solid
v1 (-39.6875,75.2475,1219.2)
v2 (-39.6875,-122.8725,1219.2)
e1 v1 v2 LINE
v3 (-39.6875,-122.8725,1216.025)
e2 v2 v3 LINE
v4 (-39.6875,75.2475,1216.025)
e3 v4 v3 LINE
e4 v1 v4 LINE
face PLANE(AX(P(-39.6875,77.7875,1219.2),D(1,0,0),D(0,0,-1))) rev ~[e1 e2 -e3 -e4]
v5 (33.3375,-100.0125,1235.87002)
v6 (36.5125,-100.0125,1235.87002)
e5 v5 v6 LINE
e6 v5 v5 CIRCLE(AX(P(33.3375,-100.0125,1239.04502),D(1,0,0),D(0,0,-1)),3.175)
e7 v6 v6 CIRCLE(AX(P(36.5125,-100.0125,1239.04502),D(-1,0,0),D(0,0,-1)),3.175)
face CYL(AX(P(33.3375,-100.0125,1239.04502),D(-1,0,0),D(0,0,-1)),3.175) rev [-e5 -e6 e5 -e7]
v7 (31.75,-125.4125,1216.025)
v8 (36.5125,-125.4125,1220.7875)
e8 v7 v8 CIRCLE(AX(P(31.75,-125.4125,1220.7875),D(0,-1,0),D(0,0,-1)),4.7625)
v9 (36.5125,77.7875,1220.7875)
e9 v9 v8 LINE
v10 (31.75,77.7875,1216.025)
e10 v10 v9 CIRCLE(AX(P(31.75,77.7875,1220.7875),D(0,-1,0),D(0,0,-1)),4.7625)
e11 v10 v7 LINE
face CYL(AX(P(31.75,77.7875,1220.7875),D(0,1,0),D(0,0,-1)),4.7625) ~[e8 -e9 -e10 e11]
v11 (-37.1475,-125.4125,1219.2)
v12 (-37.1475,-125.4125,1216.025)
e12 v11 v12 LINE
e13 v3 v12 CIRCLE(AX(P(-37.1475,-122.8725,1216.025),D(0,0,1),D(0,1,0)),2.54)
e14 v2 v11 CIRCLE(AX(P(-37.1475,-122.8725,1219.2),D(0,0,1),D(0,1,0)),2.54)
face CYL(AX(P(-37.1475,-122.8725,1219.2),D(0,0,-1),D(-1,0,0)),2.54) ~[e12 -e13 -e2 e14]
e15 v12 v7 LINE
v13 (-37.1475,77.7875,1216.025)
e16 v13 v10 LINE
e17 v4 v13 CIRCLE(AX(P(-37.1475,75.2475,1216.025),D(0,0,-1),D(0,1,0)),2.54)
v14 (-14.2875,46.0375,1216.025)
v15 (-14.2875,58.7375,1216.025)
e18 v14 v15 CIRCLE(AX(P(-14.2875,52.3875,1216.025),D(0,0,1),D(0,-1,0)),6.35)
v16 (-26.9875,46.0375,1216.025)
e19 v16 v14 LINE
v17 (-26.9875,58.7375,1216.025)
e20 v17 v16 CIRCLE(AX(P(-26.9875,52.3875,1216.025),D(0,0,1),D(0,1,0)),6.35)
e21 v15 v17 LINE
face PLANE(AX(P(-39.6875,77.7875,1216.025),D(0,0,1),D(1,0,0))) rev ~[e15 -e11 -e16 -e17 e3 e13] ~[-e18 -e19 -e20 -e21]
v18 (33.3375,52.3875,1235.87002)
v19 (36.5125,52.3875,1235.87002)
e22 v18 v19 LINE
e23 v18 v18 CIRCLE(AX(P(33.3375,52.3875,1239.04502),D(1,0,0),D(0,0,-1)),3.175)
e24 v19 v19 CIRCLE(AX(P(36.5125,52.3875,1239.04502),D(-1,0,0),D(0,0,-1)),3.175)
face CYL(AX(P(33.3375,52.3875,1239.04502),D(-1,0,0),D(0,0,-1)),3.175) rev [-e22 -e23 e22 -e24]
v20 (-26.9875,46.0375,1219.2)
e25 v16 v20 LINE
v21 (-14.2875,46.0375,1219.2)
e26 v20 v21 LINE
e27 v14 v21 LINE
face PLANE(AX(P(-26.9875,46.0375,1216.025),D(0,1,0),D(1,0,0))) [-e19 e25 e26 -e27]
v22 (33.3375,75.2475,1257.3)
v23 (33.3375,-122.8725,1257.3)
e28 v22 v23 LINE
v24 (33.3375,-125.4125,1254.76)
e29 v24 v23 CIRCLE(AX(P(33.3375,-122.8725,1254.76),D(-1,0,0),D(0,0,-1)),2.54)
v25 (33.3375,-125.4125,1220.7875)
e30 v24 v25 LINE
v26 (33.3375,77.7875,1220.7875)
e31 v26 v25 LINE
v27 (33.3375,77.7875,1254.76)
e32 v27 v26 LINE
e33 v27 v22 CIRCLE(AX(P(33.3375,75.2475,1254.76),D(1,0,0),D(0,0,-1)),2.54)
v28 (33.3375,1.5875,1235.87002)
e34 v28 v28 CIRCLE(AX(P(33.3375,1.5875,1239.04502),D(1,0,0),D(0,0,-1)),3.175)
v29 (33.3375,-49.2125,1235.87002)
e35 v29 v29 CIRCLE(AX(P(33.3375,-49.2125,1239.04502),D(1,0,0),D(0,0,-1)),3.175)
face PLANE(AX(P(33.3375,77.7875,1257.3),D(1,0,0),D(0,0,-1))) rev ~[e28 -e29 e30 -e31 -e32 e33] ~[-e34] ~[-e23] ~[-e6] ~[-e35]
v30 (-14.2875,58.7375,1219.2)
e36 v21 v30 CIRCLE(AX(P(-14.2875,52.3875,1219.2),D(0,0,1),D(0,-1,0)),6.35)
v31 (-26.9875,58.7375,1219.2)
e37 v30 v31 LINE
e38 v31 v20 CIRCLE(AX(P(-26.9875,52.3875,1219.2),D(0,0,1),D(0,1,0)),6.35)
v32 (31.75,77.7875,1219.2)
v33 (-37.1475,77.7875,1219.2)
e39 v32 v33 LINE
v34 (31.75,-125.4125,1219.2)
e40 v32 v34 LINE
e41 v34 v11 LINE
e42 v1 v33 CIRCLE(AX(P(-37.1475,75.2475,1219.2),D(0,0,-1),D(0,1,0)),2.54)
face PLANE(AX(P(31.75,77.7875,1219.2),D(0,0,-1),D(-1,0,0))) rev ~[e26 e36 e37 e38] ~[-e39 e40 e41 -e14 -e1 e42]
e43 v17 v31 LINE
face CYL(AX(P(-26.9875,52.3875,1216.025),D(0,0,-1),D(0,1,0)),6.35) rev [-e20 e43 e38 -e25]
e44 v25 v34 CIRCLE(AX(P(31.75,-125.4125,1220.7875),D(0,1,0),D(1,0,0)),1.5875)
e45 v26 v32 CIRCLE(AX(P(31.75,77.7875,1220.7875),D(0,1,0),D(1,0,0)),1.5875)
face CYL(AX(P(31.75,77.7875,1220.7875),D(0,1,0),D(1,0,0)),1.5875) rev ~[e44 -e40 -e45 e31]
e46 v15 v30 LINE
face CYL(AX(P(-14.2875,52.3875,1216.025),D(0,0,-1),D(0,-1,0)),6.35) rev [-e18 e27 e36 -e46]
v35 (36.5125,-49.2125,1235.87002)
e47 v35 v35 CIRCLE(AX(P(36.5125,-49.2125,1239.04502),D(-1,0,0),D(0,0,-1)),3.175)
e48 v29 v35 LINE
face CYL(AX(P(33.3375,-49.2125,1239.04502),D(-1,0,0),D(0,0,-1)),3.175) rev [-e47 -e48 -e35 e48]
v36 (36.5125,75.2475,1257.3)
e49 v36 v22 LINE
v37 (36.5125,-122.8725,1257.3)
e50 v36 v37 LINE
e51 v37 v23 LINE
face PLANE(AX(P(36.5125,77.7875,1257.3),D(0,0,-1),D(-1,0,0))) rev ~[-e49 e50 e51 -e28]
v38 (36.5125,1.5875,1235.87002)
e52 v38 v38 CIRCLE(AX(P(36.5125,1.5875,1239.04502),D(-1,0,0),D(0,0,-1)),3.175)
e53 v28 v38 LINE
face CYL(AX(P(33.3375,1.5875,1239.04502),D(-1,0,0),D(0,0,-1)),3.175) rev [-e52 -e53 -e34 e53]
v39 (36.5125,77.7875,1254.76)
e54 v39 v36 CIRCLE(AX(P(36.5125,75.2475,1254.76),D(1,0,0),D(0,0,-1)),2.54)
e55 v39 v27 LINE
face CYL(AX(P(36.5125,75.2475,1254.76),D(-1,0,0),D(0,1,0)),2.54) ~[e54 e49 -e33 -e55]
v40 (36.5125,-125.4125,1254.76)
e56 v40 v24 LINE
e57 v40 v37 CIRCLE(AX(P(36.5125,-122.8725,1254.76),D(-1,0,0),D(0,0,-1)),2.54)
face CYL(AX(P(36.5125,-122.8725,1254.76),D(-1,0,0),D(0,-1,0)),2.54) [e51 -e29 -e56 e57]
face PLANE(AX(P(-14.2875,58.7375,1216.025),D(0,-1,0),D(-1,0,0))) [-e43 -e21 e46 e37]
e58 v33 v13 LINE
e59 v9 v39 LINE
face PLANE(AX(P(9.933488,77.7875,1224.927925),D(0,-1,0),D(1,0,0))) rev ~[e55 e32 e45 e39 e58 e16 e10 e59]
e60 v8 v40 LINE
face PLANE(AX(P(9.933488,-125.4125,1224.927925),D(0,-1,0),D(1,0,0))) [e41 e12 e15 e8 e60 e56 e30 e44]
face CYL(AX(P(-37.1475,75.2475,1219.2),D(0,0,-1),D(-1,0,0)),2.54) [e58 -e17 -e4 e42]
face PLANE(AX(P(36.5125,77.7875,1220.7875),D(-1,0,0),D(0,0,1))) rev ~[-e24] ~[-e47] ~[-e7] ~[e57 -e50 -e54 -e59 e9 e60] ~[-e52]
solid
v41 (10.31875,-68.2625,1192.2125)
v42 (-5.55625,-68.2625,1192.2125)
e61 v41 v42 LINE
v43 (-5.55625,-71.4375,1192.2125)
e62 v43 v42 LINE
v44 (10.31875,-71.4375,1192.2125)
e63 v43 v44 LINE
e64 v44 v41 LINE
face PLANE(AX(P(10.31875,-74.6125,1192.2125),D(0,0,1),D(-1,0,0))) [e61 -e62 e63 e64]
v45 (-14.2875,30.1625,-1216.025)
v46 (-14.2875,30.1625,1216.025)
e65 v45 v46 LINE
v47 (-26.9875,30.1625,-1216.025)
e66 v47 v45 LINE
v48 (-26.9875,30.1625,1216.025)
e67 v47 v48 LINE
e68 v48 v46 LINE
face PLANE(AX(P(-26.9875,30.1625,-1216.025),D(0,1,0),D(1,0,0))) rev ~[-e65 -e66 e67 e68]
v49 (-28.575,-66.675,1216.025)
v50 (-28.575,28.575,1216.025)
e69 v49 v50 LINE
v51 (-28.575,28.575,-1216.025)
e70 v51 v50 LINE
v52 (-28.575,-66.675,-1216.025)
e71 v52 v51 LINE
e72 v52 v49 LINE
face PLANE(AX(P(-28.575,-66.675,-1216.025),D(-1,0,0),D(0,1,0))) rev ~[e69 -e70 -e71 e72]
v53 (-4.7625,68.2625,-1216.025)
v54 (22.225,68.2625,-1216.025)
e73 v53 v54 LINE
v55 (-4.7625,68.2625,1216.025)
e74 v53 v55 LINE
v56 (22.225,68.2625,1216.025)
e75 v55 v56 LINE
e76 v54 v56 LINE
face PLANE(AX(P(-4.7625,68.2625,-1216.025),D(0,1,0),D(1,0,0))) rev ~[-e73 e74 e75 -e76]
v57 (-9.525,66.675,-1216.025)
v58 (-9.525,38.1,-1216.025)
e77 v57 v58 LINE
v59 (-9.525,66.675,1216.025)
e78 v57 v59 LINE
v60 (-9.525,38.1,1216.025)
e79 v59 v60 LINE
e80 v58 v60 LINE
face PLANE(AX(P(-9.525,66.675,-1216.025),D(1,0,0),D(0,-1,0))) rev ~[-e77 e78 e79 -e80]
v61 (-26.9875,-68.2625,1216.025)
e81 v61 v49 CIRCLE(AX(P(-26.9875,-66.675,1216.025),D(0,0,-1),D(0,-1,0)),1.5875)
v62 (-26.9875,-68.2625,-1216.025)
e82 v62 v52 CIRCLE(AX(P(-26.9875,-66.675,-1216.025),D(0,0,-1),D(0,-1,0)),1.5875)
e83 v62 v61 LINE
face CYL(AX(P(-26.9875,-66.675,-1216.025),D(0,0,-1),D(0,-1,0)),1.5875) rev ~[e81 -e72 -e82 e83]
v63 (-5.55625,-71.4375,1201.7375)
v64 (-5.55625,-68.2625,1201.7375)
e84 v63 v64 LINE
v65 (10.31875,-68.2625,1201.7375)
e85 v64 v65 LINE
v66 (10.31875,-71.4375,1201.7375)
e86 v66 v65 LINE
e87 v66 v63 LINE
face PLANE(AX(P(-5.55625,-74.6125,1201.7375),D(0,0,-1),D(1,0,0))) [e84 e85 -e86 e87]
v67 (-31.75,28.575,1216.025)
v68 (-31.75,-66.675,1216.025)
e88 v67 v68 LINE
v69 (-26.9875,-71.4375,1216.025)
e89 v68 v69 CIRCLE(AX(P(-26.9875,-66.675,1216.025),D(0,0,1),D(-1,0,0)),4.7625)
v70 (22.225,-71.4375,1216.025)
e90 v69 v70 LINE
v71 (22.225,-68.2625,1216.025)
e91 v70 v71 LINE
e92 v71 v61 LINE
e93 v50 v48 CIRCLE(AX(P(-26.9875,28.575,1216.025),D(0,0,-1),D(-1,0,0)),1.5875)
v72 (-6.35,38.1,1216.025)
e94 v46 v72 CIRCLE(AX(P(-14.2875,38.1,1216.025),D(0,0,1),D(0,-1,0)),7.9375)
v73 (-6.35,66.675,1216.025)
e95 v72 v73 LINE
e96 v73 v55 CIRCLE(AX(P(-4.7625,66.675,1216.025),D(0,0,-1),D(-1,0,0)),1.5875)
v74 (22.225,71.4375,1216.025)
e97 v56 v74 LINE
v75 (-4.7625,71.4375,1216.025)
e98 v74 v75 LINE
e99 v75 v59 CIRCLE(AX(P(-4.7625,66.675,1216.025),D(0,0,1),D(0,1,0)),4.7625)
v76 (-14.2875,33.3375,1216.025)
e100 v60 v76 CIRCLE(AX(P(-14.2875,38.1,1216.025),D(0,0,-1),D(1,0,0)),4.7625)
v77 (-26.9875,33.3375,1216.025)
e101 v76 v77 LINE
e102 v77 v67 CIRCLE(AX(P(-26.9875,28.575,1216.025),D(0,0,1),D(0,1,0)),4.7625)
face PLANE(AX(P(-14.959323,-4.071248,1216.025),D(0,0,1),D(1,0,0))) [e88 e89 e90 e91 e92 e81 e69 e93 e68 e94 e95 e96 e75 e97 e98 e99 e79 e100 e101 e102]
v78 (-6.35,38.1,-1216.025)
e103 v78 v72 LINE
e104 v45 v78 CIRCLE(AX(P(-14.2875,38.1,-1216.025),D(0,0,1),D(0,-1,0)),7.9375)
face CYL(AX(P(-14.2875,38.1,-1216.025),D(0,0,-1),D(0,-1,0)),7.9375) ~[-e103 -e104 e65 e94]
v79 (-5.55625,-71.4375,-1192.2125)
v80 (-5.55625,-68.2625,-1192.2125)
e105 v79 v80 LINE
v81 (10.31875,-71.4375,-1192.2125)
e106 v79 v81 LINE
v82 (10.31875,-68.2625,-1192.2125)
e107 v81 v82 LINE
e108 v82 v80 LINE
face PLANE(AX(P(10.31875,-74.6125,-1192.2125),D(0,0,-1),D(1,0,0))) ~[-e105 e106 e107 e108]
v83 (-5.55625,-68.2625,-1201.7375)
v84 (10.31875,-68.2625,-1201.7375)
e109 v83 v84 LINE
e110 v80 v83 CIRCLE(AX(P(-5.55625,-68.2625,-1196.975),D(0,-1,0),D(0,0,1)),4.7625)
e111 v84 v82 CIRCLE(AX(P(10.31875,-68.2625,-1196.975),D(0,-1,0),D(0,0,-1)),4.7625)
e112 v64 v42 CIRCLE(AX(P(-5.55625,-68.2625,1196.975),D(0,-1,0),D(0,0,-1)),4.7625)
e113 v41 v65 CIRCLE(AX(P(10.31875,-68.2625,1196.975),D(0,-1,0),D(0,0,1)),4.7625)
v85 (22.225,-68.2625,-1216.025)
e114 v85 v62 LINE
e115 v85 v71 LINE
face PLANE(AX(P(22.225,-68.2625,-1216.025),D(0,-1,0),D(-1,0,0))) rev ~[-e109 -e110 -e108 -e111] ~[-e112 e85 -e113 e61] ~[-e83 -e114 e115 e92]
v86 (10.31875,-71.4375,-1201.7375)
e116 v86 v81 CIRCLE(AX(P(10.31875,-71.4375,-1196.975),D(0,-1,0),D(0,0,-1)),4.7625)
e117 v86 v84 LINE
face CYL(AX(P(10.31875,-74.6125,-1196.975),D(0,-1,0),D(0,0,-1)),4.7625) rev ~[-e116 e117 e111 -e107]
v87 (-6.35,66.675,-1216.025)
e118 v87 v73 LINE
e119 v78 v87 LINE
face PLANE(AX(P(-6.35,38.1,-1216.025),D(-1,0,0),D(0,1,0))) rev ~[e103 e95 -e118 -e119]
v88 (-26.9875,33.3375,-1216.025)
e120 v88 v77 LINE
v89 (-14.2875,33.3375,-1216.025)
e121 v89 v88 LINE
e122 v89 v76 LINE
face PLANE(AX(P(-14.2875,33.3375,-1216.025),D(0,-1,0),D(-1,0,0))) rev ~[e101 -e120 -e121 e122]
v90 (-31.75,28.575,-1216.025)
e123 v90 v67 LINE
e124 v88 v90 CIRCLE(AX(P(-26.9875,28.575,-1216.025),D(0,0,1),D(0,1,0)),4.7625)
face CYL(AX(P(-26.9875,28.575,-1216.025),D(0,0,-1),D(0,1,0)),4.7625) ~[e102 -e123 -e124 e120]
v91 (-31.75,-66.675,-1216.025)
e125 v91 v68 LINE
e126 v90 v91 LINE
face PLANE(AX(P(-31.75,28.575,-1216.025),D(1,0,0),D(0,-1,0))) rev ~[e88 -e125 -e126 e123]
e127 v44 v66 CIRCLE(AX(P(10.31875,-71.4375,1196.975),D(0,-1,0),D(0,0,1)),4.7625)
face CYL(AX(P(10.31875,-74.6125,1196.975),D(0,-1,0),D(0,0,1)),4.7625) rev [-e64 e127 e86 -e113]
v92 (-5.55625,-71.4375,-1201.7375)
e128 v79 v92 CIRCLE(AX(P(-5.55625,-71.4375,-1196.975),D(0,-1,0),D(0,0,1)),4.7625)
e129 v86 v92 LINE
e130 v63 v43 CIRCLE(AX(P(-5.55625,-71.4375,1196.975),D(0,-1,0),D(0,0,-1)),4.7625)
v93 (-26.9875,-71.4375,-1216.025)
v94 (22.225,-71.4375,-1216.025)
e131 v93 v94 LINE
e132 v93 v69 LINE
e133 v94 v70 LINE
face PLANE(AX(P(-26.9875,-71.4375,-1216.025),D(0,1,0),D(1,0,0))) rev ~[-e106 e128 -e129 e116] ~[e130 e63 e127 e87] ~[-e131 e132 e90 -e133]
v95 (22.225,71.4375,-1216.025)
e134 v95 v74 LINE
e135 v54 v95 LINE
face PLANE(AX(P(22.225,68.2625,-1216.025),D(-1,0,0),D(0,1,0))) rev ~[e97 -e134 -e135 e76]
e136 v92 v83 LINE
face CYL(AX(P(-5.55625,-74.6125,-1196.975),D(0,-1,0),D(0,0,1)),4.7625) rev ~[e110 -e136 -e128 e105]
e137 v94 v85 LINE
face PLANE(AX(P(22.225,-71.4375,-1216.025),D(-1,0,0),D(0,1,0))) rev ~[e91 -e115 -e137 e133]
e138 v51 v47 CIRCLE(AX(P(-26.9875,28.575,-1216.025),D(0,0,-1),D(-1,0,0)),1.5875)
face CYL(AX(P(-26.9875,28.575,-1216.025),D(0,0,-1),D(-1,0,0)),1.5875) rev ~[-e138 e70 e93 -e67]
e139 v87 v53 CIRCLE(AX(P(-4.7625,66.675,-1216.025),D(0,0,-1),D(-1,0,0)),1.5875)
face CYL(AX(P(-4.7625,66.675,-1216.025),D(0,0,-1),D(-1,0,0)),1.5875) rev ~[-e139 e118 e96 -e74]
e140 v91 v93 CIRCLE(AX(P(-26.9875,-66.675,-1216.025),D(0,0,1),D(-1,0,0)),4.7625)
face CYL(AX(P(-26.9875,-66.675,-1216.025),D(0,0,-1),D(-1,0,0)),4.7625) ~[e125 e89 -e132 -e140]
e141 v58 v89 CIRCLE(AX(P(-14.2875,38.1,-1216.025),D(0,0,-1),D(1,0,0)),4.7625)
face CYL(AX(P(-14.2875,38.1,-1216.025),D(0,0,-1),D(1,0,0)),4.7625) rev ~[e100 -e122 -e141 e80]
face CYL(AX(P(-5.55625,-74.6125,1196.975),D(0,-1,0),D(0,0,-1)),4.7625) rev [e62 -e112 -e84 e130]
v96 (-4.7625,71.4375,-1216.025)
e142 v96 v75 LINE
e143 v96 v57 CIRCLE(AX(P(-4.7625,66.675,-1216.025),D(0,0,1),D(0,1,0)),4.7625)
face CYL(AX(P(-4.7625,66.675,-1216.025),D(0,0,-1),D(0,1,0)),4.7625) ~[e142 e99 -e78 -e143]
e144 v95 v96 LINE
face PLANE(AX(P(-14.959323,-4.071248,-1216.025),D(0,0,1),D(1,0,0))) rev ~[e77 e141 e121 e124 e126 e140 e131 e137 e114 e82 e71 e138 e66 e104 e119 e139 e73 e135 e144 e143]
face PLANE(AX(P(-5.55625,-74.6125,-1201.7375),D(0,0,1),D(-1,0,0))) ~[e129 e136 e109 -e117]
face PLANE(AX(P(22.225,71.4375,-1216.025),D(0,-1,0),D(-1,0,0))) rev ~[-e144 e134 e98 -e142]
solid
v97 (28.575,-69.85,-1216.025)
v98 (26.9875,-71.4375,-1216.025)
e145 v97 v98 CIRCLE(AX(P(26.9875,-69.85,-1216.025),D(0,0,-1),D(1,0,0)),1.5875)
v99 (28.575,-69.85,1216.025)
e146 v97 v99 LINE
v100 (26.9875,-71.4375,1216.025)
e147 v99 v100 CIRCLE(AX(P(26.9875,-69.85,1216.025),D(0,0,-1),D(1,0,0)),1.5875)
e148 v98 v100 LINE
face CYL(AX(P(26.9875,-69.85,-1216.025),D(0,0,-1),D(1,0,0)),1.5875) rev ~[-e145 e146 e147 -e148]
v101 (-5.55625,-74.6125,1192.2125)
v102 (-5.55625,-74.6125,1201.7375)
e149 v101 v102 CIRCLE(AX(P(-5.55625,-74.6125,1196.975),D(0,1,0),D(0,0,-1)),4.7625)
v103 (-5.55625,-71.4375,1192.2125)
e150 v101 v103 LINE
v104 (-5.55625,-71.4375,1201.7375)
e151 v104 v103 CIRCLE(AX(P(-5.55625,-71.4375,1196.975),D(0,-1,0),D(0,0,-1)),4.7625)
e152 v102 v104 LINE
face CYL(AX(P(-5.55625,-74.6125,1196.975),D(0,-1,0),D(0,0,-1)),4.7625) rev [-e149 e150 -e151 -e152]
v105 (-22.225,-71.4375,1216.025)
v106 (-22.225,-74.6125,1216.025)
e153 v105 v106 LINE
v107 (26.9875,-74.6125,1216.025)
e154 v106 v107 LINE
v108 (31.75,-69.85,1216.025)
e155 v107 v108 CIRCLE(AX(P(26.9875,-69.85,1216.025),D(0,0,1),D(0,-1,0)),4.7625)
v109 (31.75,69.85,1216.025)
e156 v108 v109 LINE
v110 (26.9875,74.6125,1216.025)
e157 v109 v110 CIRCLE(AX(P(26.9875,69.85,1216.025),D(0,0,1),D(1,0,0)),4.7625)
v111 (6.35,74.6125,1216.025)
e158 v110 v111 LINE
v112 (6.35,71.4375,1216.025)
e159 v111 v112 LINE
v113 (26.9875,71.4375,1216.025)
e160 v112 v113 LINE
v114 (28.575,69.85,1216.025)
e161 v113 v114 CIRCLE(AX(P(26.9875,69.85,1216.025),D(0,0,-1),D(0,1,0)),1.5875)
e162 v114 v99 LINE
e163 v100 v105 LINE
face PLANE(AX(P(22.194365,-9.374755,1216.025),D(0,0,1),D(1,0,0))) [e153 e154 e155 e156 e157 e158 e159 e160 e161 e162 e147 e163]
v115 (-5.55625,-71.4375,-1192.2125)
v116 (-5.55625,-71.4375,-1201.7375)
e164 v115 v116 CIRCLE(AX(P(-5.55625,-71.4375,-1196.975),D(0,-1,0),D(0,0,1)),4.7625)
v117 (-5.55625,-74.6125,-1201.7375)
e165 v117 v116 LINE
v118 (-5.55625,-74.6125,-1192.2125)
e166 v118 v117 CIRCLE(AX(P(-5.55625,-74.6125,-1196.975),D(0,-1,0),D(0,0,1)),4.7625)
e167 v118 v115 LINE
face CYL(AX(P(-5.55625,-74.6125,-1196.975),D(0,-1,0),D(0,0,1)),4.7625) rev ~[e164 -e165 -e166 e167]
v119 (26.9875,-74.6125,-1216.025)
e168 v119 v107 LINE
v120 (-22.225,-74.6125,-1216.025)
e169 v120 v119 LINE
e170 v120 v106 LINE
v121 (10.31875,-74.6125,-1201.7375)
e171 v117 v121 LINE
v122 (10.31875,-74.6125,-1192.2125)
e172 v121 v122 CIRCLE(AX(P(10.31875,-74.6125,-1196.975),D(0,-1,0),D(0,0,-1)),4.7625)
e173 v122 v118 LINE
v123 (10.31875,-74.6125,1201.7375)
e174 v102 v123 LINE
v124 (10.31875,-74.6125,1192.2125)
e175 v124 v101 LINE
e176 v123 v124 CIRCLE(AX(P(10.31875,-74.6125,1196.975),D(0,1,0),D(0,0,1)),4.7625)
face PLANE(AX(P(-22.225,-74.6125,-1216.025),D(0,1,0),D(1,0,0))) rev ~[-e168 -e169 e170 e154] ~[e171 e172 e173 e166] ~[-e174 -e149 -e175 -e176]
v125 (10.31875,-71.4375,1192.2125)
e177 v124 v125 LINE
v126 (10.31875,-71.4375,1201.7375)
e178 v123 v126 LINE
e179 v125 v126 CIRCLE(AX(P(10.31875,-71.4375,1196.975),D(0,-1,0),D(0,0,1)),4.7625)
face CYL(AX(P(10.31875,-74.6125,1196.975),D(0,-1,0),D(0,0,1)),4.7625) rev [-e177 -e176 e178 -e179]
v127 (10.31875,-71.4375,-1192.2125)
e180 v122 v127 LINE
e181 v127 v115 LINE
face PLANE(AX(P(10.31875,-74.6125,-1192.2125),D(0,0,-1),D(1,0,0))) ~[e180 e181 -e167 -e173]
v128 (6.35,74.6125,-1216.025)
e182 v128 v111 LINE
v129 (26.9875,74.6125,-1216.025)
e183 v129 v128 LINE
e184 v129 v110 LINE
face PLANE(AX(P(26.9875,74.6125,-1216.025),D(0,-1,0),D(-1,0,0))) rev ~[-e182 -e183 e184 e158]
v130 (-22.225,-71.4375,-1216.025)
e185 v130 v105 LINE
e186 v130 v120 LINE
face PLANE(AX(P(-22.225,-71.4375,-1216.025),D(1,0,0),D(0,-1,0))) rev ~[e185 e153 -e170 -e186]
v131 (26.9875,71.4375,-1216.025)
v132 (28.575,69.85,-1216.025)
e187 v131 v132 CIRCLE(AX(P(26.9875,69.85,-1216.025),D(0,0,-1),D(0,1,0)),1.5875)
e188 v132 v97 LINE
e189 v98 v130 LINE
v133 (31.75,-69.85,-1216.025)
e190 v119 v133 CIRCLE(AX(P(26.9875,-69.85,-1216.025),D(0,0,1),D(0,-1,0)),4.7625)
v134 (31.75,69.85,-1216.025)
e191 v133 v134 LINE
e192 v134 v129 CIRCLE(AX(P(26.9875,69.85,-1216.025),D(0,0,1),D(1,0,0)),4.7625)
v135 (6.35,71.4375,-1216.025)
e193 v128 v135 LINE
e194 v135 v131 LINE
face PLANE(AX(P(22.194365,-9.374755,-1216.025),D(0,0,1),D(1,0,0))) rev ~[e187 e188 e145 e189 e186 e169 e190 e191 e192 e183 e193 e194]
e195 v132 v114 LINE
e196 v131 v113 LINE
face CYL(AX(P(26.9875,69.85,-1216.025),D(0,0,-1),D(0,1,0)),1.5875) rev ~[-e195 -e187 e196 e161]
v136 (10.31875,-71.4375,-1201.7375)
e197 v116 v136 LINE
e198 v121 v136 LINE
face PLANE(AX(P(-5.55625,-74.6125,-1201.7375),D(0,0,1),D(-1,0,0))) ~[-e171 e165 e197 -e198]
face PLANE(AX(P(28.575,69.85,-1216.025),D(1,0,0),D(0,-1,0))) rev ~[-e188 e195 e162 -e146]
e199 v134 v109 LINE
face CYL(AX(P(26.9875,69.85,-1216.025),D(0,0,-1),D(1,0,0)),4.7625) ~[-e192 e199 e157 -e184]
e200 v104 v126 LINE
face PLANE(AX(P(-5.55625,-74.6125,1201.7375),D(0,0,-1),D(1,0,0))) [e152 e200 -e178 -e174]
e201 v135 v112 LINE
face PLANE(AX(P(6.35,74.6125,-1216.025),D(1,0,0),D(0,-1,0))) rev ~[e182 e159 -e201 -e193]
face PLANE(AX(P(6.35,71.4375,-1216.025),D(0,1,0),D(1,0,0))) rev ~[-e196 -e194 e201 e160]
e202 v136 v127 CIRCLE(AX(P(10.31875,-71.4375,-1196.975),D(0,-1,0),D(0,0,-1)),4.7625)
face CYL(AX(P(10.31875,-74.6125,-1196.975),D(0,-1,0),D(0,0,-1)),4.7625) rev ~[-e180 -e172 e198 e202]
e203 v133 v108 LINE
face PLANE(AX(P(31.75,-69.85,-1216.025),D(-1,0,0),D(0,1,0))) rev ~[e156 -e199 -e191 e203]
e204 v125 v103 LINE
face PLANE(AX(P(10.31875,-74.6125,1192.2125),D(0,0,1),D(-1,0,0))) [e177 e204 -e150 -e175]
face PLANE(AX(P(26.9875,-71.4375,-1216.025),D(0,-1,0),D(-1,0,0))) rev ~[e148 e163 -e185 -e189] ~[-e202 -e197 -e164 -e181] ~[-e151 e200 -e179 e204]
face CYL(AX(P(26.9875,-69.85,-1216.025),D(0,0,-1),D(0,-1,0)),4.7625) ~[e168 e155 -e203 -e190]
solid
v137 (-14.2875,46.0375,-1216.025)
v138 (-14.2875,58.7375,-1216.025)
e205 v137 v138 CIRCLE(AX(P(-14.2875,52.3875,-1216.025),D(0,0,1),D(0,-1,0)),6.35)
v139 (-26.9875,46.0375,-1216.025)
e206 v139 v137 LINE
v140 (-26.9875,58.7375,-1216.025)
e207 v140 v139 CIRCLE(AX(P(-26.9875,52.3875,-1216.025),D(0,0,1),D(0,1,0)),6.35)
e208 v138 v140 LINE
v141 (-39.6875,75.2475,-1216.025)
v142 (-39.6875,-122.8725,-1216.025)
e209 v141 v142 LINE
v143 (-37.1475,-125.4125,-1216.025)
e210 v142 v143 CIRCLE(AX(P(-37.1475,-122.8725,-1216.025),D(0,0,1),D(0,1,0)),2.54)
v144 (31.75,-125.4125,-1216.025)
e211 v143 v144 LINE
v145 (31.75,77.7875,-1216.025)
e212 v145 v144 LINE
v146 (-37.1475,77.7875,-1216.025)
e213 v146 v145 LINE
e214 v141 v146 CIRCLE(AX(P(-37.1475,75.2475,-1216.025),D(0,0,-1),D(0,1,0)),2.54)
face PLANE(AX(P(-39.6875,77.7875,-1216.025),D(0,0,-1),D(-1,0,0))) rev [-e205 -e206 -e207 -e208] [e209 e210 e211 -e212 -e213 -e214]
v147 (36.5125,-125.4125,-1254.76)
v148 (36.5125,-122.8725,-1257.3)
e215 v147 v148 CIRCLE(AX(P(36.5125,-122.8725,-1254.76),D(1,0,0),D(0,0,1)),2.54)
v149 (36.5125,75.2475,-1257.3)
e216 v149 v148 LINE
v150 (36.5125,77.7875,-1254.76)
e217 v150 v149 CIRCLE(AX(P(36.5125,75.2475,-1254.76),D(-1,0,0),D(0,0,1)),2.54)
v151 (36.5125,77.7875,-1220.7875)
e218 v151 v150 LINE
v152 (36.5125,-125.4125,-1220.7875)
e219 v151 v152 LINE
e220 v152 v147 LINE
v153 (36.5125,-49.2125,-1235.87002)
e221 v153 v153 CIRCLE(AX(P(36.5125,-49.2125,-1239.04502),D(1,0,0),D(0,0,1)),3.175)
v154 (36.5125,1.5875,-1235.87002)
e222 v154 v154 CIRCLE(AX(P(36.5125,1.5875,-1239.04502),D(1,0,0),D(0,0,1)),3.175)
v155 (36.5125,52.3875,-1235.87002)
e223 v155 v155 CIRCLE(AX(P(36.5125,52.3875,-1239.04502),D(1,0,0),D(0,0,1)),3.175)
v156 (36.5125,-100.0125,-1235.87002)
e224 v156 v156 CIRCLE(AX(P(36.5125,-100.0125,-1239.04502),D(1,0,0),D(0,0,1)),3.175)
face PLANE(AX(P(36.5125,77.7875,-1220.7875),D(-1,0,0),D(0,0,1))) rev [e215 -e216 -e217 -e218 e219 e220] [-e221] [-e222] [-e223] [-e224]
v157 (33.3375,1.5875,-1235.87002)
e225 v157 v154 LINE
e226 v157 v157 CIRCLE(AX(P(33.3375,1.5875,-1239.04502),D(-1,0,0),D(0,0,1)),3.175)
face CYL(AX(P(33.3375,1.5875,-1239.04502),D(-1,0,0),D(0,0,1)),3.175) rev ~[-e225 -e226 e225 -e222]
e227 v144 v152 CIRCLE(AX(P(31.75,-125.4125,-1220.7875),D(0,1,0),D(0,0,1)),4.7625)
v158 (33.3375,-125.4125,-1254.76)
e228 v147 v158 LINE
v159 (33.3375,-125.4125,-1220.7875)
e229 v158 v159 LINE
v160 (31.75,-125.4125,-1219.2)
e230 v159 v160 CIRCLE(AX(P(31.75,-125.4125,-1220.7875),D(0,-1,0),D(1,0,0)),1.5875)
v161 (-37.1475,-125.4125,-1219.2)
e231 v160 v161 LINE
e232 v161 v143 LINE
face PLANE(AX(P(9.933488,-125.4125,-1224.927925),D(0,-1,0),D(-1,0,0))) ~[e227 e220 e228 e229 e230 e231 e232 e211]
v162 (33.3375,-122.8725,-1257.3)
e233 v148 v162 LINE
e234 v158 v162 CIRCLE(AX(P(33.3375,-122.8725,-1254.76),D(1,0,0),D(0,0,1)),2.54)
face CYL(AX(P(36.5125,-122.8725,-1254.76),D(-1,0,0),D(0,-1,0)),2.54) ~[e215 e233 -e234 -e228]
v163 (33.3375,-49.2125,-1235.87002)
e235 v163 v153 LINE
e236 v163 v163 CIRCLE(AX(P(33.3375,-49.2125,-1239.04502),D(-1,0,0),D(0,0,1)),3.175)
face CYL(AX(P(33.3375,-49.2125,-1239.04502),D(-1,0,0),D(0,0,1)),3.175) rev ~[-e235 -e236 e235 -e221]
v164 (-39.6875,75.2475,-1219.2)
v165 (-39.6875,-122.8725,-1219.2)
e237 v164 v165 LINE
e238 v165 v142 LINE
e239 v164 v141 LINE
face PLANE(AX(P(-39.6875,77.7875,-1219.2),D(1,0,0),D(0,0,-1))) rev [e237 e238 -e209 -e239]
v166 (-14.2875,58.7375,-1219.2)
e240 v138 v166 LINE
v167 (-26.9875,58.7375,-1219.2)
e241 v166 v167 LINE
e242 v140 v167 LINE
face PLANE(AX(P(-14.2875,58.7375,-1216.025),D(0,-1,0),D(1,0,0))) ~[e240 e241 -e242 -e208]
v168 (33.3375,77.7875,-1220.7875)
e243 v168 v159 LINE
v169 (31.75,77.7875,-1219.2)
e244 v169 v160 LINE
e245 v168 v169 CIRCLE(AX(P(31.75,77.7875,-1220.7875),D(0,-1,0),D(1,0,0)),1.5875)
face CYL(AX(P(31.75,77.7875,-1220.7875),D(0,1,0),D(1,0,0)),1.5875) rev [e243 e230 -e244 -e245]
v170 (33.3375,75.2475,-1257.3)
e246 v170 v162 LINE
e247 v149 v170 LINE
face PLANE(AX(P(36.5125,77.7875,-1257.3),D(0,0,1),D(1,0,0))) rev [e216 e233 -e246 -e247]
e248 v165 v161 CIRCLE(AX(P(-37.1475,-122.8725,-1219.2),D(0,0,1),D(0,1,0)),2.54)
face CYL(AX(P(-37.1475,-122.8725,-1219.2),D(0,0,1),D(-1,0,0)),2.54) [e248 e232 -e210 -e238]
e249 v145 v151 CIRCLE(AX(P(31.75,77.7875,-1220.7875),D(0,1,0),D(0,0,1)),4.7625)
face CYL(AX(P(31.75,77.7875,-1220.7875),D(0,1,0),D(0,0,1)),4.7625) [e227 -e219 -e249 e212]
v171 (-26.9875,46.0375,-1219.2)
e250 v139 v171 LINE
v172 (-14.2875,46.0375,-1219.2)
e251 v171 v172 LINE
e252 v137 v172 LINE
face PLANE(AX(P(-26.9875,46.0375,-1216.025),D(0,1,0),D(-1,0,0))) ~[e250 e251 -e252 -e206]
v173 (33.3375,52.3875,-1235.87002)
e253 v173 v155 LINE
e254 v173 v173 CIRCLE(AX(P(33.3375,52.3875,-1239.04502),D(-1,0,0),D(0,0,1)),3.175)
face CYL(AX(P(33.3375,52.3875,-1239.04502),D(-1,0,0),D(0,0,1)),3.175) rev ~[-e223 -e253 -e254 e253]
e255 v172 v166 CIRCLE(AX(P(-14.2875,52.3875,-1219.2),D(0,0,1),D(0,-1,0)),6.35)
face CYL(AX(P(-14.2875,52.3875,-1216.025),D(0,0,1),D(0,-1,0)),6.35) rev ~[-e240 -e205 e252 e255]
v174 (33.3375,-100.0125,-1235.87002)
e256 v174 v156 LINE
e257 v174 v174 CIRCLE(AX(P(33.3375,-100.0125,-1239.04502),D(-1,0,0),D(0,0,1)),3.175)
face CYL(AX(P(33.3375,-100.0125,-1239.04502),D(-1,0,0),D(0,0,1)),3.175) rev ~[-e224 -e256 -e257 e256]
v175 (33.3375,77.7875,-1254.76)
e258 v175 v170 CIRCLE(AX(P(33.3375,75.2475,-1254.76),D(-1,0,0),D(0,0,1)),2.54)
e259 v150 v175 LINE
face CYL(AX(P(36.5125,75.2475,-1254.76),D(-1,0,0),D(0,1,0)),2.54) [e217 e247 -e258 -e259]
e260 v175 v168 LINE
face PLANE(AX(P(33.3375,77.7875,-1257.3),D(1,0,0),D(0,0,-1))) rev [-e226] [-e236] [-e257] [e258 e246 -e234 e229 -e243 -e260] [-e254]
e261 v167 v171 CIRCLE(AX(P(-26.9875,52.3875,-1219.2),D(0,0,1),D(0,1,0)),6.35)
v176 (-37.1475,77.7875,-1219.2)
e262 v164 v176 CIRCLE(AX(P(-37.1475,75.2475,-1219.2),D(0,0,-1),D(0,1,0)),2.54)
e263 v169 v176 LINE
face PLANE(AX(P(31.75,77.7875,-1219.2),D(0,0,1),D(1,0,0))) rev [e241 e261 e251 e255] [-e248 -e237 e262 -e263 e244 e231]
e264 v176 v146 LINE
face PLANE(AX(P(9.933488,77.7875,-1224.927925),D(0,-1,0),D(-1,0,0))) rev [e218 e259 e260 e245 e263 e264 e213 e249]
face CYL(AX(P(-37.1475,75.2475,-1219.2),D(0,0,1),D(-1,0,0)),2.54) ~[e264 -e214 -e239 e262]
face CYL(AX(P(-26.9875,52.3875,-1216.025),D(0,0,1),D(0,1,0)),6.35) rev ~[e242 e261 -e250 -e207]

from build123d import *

# Parameters (mm, degrees)
BOSS_EXTRUDE1_DEPTH      = 1216.025
BOSS_EXTRUDE1_DEPTH_BACK = 1216.025
BOSS_EXTRUDE2_START      = -1216.025
BOSS_EXTRUDE2_DEPTH      = 2432.05
BOSS_EXTRUDE3_DEPTH      = 50.8
BOSS_EXTRUDE3_DEPTH_BACK = 152.4
SKETCH5_R                = 3.175
CUT_EXTRUDE1_DEPTH       = 1266.647753437
CUT_EXTRUDE2_DEPTH       = 3.175
CUT_EXTRUDE3_DEPTH       = 9.525
FILLET1_R                = 2.54


with BuildPart() as part:
    # Sketch1 → Boss-Extrude1 (new, two sides: drawn at the far end of the back side and taken through both)
    with BuildSketch(Plane.XY.offset(-BOSS_EXTRUDE1_DEPTH_BACK)):
        with BuildLine():
            Line((6.35, 71.4375), (26.9875, 71.4375))
            ThreePointArc((26.9875, 71.4375), (28.110032015, 70.972532015), (28.575, 69.85))
            Line((28.575, 69.85), (28.575, -69.85))
            ThreePointArc((28.575, -69.85), (28.110032015, -70.972532015), (26.9875, -71.4375))
            Line((26.9875, -71.4375), (-22.225, -71.4375))
            Line((-22.225, -71.4375), (-22.225, -74.6125))
            Line((-22.225, -74.6125), (26.9875, -74.6125))
            ThreePointArc((26.9875, -74.6125), (30.355096045, -73.217596045), (31.75, -69.85))
            Line((31.75, -69.85), (31.75, 69.85))
            ThreePointArc((31.75, 69.85), (30.355096045, 73.217596045), (26.9875, 74.6125))
            Line((26.9875, 74.6125), (6.35, 74.6125))
            Line((6.35, 74.6125), (6.35, 71.4375))
        make_face()
    extrude(amount=BOSS_EXTRUDE1_DEPTH + BOSS_EXTRUDE1_DEPTH_BACK)


with BuildPart() as body_2:
    # Sketch2 → Boss-Extrude2 (new body)
    with BuildSketch(Plane.XY.offset(BOSS_EXTRUDE2_START)):
        with BuildLine():
            Line((22.225, 71.4375), (-4.7625, 71.4375))
            ThreePointArc((-4.7625, 71.4375), (-8.130096045, 70.042596045), (-9.525, 66.675))
            Line((-9.525, 66.675), (-9.525, 38.1))
            ThreePointArc((-9.525, 38.1), (-10.919903955, 34.732403955), (-14.2875, 33.3375))
            Line((-14.2875, 33.3375), (-26.9875, 33.3375))
            ThreePointArc((-26.9875, 33.3375), (-30.355096045, 31.942596045), (-31.75, 28.575))
            Line((-31.75, 28.575), (-31.75, -66.675))
            ThreePointArc((-31.75, -66.675), (-30.355096045, -70.042596045), (-26.9875, -71.4375))
            Line((-26.9875, -71.4375), (22.225, -71.4375))
            Line((22.225, -71.4375), (22.225, -68.2625))
            Line((22.225, -68.2625), (-26.9875, -68.2625))
            ThreePointArc((-26.9875, -68.2625), (-28.110032015, -67.797532015), (-28.575, -66.675))
            Line((-28.575, -66.675), (-28.575, 28.575))
            ThreePointArc((-28.575, 28.575), (-28.110032015, 29.697532015), (-26.9875, 30.1625))
            Line((-26.9875, 30.1625), (-14.2875, 30.1625))
            ThreePointArc((-14.2875, 30.1625), (-8.674839924, 32.487339924), (-6.35, 38.1))
            Line((-6.35, 38.1), (-6.35, 66.675))
            ThreePointArc((-6.35, 66.675), (-5.885032015, 67.797532015), (-4.7625, 68.2625))
            Line((-4.7625, 68.2625), (22.225, 68.2625))
            Line((22.225, 68.2625), (22.225, 71.4375))
        make_face()
    extrude(amount=BOSS_EXTRUDE2_DEPTH)


with BuildPart() as body_3:
    # Sketch4 → Boss-Extrude3 (new, two sides: drawn at the far end of the back side and taken through both)
    with BuildSketch(Plane.XZ.offset(74.6125).offset(-BOSS_EXTRUDE3_DEPTH_BACK)):
        with BuildLine():
            Line((-39.6875, 1216.025), (31.75, 1216.025))
            ThreePointArc((31.75, 1216.025), (35.117596045, 1217.419903955), (36.5125, 1220.7875))
            Line((36.5125, 1220.7875), (36.5125, 1257.3))
            Line((36.5125, 1257.3), (33.3375, 1257.3))
            Line((33.3375, 1257.3), (33.3375, 1220.7875))
            ThreePointArc((33.3375, 1220.7875), (32.872532015, 1219.664967985), (31.75, 1219.2))
            Line((31.75, 1219.2), (-39.6875, 1219.2))
            Line((-39.6875, 1219.2), (-39.6875, 1216.025))
        make_face()
    extrude(amount=BOSS_EXTRUDE3_DEPTH + BOSS_EXTRUDE3_DEPTH_BACK)

    # Sketch5 → Cut-Extrude1 (cut, through all)
    with BuildSketch(Plane(origin=(33.3375, 0, 0), x_dir=(0, 0, -1), z_dir=(1, 0, 0))):
        with Locations((-1239.04502, 52.3875)):
            Circle(SKETCH5_R)
        with Locations((-1239.04502, 1.5875)):
            Circle(SKETCH5_R)
        with Locations((-1239.04502, -49.2125)):
            Circle(SKETCH5_R)
        with Locations((-1239.04502, -100.0125)):
            Circle(SKETCH5_R)
    extrude(amount=CUT_EXTRUDE1_DEPTH, mode=Mode.SUBTRACT)

    # Sketch9 → Cut-Extrude2 (cut)
    with BuildSketch(Plane(origin=(0, 0, 1216.025), x_dir=(-1, 0, 0), z_dir=(0, 0, -1))):
        with BuildLine():
            Line((14.2875, 58.7375), (26.9875, 58.7375))
            ThreePointArc((26.9875, 58.7375), (33.3375, 52.3875), (26.9875, 46.0375))
            Line((26.9875, 46.0375), (14.2875, 46.0375))
            ThreePointArc((14.2875, 46.0375), (7.9375, 52.3875), (14.2875, 58.7375))
        make_face()
    extrude(amount=-CUT_EXTRUDE2_DEPTH, mode=Mode.SUBTRACT)

    # Fillet1
    fillet1_edges = [body_3.edges().sort_by_distance(p)[0] for p in [
        (34.925, 77.7875, 1257.3),
        (-39.6875, -125.4125, 1217.6125),
        (34.925, -125.4125, 1257.3),
        (-39.6875, 77.7875, 1217.6125),
    ]]
    fillet(fillet1_edges, radius=FILLET1_R)


with BuildPart() as cut_extrude3_tool:
    # Sketch10 → Cut-Extrude3 (new body)
    with BuildSketch(Plane.XZ.offset(74.6125)):
        with BuildLine():
            Line((10.31875, 1192.2125), (-5.55625, 1192.2125))
            ThreePointArc((-5.55625, 1192.2125), (-10.31875, 1196.975), (-5.55625, 1201.7375))
            Line((-5.55625, 1201.7375), (10.31875, 1201.7375))
            ThreePointArc((10.31875, 1201.7375), (15.08125, 1196.975), (10.31875, 1192.2125))
        make_face()
    cut_extrude3 = extrude(amount=-CUT_EXTRUDE3_DEPTH)


with BuildPart() as part_1:
    add(part.part)

    # Cut-Extrude3: cut by cut_extrude3_tool
    add(cut_extrude3_tool.part, mode=Mode.SUBTRACT)


with BuildPart() as body_2_1:
    add(body_2.part)

    # Cut-Extrude3: cut by cut_extrude3_tool
    add(cut_extrude3_tool.part, mode=Mode.SUBTRACT)


with BuildPart() as mirror2_tool:
    # Mirror2: Cut-Extrude3 across plane
    add(cut_extrude3.mirror(Plane.XY))


with BuildPart() as part_2:
    add(part_1.part)

    # Mirror2: cut by mirror2_tool
    add(mirror2_tool.part, mode=Mode.SUBTRACT)


with BuildPart() as body_2_2:
    add(body_2_1.part)

    # Mirror2: cut by mirror2_tool
    add(mirror2_tool.part, mode=Mode.SUBTRACT)


with BuildPart() as body_4:
    # Mirror3: mirrored copy
    add(body_3.part.mirror(Plane.XY))


solid = Compound([body_3.part, part_2.part, body_2_2.part, body_4.part])
